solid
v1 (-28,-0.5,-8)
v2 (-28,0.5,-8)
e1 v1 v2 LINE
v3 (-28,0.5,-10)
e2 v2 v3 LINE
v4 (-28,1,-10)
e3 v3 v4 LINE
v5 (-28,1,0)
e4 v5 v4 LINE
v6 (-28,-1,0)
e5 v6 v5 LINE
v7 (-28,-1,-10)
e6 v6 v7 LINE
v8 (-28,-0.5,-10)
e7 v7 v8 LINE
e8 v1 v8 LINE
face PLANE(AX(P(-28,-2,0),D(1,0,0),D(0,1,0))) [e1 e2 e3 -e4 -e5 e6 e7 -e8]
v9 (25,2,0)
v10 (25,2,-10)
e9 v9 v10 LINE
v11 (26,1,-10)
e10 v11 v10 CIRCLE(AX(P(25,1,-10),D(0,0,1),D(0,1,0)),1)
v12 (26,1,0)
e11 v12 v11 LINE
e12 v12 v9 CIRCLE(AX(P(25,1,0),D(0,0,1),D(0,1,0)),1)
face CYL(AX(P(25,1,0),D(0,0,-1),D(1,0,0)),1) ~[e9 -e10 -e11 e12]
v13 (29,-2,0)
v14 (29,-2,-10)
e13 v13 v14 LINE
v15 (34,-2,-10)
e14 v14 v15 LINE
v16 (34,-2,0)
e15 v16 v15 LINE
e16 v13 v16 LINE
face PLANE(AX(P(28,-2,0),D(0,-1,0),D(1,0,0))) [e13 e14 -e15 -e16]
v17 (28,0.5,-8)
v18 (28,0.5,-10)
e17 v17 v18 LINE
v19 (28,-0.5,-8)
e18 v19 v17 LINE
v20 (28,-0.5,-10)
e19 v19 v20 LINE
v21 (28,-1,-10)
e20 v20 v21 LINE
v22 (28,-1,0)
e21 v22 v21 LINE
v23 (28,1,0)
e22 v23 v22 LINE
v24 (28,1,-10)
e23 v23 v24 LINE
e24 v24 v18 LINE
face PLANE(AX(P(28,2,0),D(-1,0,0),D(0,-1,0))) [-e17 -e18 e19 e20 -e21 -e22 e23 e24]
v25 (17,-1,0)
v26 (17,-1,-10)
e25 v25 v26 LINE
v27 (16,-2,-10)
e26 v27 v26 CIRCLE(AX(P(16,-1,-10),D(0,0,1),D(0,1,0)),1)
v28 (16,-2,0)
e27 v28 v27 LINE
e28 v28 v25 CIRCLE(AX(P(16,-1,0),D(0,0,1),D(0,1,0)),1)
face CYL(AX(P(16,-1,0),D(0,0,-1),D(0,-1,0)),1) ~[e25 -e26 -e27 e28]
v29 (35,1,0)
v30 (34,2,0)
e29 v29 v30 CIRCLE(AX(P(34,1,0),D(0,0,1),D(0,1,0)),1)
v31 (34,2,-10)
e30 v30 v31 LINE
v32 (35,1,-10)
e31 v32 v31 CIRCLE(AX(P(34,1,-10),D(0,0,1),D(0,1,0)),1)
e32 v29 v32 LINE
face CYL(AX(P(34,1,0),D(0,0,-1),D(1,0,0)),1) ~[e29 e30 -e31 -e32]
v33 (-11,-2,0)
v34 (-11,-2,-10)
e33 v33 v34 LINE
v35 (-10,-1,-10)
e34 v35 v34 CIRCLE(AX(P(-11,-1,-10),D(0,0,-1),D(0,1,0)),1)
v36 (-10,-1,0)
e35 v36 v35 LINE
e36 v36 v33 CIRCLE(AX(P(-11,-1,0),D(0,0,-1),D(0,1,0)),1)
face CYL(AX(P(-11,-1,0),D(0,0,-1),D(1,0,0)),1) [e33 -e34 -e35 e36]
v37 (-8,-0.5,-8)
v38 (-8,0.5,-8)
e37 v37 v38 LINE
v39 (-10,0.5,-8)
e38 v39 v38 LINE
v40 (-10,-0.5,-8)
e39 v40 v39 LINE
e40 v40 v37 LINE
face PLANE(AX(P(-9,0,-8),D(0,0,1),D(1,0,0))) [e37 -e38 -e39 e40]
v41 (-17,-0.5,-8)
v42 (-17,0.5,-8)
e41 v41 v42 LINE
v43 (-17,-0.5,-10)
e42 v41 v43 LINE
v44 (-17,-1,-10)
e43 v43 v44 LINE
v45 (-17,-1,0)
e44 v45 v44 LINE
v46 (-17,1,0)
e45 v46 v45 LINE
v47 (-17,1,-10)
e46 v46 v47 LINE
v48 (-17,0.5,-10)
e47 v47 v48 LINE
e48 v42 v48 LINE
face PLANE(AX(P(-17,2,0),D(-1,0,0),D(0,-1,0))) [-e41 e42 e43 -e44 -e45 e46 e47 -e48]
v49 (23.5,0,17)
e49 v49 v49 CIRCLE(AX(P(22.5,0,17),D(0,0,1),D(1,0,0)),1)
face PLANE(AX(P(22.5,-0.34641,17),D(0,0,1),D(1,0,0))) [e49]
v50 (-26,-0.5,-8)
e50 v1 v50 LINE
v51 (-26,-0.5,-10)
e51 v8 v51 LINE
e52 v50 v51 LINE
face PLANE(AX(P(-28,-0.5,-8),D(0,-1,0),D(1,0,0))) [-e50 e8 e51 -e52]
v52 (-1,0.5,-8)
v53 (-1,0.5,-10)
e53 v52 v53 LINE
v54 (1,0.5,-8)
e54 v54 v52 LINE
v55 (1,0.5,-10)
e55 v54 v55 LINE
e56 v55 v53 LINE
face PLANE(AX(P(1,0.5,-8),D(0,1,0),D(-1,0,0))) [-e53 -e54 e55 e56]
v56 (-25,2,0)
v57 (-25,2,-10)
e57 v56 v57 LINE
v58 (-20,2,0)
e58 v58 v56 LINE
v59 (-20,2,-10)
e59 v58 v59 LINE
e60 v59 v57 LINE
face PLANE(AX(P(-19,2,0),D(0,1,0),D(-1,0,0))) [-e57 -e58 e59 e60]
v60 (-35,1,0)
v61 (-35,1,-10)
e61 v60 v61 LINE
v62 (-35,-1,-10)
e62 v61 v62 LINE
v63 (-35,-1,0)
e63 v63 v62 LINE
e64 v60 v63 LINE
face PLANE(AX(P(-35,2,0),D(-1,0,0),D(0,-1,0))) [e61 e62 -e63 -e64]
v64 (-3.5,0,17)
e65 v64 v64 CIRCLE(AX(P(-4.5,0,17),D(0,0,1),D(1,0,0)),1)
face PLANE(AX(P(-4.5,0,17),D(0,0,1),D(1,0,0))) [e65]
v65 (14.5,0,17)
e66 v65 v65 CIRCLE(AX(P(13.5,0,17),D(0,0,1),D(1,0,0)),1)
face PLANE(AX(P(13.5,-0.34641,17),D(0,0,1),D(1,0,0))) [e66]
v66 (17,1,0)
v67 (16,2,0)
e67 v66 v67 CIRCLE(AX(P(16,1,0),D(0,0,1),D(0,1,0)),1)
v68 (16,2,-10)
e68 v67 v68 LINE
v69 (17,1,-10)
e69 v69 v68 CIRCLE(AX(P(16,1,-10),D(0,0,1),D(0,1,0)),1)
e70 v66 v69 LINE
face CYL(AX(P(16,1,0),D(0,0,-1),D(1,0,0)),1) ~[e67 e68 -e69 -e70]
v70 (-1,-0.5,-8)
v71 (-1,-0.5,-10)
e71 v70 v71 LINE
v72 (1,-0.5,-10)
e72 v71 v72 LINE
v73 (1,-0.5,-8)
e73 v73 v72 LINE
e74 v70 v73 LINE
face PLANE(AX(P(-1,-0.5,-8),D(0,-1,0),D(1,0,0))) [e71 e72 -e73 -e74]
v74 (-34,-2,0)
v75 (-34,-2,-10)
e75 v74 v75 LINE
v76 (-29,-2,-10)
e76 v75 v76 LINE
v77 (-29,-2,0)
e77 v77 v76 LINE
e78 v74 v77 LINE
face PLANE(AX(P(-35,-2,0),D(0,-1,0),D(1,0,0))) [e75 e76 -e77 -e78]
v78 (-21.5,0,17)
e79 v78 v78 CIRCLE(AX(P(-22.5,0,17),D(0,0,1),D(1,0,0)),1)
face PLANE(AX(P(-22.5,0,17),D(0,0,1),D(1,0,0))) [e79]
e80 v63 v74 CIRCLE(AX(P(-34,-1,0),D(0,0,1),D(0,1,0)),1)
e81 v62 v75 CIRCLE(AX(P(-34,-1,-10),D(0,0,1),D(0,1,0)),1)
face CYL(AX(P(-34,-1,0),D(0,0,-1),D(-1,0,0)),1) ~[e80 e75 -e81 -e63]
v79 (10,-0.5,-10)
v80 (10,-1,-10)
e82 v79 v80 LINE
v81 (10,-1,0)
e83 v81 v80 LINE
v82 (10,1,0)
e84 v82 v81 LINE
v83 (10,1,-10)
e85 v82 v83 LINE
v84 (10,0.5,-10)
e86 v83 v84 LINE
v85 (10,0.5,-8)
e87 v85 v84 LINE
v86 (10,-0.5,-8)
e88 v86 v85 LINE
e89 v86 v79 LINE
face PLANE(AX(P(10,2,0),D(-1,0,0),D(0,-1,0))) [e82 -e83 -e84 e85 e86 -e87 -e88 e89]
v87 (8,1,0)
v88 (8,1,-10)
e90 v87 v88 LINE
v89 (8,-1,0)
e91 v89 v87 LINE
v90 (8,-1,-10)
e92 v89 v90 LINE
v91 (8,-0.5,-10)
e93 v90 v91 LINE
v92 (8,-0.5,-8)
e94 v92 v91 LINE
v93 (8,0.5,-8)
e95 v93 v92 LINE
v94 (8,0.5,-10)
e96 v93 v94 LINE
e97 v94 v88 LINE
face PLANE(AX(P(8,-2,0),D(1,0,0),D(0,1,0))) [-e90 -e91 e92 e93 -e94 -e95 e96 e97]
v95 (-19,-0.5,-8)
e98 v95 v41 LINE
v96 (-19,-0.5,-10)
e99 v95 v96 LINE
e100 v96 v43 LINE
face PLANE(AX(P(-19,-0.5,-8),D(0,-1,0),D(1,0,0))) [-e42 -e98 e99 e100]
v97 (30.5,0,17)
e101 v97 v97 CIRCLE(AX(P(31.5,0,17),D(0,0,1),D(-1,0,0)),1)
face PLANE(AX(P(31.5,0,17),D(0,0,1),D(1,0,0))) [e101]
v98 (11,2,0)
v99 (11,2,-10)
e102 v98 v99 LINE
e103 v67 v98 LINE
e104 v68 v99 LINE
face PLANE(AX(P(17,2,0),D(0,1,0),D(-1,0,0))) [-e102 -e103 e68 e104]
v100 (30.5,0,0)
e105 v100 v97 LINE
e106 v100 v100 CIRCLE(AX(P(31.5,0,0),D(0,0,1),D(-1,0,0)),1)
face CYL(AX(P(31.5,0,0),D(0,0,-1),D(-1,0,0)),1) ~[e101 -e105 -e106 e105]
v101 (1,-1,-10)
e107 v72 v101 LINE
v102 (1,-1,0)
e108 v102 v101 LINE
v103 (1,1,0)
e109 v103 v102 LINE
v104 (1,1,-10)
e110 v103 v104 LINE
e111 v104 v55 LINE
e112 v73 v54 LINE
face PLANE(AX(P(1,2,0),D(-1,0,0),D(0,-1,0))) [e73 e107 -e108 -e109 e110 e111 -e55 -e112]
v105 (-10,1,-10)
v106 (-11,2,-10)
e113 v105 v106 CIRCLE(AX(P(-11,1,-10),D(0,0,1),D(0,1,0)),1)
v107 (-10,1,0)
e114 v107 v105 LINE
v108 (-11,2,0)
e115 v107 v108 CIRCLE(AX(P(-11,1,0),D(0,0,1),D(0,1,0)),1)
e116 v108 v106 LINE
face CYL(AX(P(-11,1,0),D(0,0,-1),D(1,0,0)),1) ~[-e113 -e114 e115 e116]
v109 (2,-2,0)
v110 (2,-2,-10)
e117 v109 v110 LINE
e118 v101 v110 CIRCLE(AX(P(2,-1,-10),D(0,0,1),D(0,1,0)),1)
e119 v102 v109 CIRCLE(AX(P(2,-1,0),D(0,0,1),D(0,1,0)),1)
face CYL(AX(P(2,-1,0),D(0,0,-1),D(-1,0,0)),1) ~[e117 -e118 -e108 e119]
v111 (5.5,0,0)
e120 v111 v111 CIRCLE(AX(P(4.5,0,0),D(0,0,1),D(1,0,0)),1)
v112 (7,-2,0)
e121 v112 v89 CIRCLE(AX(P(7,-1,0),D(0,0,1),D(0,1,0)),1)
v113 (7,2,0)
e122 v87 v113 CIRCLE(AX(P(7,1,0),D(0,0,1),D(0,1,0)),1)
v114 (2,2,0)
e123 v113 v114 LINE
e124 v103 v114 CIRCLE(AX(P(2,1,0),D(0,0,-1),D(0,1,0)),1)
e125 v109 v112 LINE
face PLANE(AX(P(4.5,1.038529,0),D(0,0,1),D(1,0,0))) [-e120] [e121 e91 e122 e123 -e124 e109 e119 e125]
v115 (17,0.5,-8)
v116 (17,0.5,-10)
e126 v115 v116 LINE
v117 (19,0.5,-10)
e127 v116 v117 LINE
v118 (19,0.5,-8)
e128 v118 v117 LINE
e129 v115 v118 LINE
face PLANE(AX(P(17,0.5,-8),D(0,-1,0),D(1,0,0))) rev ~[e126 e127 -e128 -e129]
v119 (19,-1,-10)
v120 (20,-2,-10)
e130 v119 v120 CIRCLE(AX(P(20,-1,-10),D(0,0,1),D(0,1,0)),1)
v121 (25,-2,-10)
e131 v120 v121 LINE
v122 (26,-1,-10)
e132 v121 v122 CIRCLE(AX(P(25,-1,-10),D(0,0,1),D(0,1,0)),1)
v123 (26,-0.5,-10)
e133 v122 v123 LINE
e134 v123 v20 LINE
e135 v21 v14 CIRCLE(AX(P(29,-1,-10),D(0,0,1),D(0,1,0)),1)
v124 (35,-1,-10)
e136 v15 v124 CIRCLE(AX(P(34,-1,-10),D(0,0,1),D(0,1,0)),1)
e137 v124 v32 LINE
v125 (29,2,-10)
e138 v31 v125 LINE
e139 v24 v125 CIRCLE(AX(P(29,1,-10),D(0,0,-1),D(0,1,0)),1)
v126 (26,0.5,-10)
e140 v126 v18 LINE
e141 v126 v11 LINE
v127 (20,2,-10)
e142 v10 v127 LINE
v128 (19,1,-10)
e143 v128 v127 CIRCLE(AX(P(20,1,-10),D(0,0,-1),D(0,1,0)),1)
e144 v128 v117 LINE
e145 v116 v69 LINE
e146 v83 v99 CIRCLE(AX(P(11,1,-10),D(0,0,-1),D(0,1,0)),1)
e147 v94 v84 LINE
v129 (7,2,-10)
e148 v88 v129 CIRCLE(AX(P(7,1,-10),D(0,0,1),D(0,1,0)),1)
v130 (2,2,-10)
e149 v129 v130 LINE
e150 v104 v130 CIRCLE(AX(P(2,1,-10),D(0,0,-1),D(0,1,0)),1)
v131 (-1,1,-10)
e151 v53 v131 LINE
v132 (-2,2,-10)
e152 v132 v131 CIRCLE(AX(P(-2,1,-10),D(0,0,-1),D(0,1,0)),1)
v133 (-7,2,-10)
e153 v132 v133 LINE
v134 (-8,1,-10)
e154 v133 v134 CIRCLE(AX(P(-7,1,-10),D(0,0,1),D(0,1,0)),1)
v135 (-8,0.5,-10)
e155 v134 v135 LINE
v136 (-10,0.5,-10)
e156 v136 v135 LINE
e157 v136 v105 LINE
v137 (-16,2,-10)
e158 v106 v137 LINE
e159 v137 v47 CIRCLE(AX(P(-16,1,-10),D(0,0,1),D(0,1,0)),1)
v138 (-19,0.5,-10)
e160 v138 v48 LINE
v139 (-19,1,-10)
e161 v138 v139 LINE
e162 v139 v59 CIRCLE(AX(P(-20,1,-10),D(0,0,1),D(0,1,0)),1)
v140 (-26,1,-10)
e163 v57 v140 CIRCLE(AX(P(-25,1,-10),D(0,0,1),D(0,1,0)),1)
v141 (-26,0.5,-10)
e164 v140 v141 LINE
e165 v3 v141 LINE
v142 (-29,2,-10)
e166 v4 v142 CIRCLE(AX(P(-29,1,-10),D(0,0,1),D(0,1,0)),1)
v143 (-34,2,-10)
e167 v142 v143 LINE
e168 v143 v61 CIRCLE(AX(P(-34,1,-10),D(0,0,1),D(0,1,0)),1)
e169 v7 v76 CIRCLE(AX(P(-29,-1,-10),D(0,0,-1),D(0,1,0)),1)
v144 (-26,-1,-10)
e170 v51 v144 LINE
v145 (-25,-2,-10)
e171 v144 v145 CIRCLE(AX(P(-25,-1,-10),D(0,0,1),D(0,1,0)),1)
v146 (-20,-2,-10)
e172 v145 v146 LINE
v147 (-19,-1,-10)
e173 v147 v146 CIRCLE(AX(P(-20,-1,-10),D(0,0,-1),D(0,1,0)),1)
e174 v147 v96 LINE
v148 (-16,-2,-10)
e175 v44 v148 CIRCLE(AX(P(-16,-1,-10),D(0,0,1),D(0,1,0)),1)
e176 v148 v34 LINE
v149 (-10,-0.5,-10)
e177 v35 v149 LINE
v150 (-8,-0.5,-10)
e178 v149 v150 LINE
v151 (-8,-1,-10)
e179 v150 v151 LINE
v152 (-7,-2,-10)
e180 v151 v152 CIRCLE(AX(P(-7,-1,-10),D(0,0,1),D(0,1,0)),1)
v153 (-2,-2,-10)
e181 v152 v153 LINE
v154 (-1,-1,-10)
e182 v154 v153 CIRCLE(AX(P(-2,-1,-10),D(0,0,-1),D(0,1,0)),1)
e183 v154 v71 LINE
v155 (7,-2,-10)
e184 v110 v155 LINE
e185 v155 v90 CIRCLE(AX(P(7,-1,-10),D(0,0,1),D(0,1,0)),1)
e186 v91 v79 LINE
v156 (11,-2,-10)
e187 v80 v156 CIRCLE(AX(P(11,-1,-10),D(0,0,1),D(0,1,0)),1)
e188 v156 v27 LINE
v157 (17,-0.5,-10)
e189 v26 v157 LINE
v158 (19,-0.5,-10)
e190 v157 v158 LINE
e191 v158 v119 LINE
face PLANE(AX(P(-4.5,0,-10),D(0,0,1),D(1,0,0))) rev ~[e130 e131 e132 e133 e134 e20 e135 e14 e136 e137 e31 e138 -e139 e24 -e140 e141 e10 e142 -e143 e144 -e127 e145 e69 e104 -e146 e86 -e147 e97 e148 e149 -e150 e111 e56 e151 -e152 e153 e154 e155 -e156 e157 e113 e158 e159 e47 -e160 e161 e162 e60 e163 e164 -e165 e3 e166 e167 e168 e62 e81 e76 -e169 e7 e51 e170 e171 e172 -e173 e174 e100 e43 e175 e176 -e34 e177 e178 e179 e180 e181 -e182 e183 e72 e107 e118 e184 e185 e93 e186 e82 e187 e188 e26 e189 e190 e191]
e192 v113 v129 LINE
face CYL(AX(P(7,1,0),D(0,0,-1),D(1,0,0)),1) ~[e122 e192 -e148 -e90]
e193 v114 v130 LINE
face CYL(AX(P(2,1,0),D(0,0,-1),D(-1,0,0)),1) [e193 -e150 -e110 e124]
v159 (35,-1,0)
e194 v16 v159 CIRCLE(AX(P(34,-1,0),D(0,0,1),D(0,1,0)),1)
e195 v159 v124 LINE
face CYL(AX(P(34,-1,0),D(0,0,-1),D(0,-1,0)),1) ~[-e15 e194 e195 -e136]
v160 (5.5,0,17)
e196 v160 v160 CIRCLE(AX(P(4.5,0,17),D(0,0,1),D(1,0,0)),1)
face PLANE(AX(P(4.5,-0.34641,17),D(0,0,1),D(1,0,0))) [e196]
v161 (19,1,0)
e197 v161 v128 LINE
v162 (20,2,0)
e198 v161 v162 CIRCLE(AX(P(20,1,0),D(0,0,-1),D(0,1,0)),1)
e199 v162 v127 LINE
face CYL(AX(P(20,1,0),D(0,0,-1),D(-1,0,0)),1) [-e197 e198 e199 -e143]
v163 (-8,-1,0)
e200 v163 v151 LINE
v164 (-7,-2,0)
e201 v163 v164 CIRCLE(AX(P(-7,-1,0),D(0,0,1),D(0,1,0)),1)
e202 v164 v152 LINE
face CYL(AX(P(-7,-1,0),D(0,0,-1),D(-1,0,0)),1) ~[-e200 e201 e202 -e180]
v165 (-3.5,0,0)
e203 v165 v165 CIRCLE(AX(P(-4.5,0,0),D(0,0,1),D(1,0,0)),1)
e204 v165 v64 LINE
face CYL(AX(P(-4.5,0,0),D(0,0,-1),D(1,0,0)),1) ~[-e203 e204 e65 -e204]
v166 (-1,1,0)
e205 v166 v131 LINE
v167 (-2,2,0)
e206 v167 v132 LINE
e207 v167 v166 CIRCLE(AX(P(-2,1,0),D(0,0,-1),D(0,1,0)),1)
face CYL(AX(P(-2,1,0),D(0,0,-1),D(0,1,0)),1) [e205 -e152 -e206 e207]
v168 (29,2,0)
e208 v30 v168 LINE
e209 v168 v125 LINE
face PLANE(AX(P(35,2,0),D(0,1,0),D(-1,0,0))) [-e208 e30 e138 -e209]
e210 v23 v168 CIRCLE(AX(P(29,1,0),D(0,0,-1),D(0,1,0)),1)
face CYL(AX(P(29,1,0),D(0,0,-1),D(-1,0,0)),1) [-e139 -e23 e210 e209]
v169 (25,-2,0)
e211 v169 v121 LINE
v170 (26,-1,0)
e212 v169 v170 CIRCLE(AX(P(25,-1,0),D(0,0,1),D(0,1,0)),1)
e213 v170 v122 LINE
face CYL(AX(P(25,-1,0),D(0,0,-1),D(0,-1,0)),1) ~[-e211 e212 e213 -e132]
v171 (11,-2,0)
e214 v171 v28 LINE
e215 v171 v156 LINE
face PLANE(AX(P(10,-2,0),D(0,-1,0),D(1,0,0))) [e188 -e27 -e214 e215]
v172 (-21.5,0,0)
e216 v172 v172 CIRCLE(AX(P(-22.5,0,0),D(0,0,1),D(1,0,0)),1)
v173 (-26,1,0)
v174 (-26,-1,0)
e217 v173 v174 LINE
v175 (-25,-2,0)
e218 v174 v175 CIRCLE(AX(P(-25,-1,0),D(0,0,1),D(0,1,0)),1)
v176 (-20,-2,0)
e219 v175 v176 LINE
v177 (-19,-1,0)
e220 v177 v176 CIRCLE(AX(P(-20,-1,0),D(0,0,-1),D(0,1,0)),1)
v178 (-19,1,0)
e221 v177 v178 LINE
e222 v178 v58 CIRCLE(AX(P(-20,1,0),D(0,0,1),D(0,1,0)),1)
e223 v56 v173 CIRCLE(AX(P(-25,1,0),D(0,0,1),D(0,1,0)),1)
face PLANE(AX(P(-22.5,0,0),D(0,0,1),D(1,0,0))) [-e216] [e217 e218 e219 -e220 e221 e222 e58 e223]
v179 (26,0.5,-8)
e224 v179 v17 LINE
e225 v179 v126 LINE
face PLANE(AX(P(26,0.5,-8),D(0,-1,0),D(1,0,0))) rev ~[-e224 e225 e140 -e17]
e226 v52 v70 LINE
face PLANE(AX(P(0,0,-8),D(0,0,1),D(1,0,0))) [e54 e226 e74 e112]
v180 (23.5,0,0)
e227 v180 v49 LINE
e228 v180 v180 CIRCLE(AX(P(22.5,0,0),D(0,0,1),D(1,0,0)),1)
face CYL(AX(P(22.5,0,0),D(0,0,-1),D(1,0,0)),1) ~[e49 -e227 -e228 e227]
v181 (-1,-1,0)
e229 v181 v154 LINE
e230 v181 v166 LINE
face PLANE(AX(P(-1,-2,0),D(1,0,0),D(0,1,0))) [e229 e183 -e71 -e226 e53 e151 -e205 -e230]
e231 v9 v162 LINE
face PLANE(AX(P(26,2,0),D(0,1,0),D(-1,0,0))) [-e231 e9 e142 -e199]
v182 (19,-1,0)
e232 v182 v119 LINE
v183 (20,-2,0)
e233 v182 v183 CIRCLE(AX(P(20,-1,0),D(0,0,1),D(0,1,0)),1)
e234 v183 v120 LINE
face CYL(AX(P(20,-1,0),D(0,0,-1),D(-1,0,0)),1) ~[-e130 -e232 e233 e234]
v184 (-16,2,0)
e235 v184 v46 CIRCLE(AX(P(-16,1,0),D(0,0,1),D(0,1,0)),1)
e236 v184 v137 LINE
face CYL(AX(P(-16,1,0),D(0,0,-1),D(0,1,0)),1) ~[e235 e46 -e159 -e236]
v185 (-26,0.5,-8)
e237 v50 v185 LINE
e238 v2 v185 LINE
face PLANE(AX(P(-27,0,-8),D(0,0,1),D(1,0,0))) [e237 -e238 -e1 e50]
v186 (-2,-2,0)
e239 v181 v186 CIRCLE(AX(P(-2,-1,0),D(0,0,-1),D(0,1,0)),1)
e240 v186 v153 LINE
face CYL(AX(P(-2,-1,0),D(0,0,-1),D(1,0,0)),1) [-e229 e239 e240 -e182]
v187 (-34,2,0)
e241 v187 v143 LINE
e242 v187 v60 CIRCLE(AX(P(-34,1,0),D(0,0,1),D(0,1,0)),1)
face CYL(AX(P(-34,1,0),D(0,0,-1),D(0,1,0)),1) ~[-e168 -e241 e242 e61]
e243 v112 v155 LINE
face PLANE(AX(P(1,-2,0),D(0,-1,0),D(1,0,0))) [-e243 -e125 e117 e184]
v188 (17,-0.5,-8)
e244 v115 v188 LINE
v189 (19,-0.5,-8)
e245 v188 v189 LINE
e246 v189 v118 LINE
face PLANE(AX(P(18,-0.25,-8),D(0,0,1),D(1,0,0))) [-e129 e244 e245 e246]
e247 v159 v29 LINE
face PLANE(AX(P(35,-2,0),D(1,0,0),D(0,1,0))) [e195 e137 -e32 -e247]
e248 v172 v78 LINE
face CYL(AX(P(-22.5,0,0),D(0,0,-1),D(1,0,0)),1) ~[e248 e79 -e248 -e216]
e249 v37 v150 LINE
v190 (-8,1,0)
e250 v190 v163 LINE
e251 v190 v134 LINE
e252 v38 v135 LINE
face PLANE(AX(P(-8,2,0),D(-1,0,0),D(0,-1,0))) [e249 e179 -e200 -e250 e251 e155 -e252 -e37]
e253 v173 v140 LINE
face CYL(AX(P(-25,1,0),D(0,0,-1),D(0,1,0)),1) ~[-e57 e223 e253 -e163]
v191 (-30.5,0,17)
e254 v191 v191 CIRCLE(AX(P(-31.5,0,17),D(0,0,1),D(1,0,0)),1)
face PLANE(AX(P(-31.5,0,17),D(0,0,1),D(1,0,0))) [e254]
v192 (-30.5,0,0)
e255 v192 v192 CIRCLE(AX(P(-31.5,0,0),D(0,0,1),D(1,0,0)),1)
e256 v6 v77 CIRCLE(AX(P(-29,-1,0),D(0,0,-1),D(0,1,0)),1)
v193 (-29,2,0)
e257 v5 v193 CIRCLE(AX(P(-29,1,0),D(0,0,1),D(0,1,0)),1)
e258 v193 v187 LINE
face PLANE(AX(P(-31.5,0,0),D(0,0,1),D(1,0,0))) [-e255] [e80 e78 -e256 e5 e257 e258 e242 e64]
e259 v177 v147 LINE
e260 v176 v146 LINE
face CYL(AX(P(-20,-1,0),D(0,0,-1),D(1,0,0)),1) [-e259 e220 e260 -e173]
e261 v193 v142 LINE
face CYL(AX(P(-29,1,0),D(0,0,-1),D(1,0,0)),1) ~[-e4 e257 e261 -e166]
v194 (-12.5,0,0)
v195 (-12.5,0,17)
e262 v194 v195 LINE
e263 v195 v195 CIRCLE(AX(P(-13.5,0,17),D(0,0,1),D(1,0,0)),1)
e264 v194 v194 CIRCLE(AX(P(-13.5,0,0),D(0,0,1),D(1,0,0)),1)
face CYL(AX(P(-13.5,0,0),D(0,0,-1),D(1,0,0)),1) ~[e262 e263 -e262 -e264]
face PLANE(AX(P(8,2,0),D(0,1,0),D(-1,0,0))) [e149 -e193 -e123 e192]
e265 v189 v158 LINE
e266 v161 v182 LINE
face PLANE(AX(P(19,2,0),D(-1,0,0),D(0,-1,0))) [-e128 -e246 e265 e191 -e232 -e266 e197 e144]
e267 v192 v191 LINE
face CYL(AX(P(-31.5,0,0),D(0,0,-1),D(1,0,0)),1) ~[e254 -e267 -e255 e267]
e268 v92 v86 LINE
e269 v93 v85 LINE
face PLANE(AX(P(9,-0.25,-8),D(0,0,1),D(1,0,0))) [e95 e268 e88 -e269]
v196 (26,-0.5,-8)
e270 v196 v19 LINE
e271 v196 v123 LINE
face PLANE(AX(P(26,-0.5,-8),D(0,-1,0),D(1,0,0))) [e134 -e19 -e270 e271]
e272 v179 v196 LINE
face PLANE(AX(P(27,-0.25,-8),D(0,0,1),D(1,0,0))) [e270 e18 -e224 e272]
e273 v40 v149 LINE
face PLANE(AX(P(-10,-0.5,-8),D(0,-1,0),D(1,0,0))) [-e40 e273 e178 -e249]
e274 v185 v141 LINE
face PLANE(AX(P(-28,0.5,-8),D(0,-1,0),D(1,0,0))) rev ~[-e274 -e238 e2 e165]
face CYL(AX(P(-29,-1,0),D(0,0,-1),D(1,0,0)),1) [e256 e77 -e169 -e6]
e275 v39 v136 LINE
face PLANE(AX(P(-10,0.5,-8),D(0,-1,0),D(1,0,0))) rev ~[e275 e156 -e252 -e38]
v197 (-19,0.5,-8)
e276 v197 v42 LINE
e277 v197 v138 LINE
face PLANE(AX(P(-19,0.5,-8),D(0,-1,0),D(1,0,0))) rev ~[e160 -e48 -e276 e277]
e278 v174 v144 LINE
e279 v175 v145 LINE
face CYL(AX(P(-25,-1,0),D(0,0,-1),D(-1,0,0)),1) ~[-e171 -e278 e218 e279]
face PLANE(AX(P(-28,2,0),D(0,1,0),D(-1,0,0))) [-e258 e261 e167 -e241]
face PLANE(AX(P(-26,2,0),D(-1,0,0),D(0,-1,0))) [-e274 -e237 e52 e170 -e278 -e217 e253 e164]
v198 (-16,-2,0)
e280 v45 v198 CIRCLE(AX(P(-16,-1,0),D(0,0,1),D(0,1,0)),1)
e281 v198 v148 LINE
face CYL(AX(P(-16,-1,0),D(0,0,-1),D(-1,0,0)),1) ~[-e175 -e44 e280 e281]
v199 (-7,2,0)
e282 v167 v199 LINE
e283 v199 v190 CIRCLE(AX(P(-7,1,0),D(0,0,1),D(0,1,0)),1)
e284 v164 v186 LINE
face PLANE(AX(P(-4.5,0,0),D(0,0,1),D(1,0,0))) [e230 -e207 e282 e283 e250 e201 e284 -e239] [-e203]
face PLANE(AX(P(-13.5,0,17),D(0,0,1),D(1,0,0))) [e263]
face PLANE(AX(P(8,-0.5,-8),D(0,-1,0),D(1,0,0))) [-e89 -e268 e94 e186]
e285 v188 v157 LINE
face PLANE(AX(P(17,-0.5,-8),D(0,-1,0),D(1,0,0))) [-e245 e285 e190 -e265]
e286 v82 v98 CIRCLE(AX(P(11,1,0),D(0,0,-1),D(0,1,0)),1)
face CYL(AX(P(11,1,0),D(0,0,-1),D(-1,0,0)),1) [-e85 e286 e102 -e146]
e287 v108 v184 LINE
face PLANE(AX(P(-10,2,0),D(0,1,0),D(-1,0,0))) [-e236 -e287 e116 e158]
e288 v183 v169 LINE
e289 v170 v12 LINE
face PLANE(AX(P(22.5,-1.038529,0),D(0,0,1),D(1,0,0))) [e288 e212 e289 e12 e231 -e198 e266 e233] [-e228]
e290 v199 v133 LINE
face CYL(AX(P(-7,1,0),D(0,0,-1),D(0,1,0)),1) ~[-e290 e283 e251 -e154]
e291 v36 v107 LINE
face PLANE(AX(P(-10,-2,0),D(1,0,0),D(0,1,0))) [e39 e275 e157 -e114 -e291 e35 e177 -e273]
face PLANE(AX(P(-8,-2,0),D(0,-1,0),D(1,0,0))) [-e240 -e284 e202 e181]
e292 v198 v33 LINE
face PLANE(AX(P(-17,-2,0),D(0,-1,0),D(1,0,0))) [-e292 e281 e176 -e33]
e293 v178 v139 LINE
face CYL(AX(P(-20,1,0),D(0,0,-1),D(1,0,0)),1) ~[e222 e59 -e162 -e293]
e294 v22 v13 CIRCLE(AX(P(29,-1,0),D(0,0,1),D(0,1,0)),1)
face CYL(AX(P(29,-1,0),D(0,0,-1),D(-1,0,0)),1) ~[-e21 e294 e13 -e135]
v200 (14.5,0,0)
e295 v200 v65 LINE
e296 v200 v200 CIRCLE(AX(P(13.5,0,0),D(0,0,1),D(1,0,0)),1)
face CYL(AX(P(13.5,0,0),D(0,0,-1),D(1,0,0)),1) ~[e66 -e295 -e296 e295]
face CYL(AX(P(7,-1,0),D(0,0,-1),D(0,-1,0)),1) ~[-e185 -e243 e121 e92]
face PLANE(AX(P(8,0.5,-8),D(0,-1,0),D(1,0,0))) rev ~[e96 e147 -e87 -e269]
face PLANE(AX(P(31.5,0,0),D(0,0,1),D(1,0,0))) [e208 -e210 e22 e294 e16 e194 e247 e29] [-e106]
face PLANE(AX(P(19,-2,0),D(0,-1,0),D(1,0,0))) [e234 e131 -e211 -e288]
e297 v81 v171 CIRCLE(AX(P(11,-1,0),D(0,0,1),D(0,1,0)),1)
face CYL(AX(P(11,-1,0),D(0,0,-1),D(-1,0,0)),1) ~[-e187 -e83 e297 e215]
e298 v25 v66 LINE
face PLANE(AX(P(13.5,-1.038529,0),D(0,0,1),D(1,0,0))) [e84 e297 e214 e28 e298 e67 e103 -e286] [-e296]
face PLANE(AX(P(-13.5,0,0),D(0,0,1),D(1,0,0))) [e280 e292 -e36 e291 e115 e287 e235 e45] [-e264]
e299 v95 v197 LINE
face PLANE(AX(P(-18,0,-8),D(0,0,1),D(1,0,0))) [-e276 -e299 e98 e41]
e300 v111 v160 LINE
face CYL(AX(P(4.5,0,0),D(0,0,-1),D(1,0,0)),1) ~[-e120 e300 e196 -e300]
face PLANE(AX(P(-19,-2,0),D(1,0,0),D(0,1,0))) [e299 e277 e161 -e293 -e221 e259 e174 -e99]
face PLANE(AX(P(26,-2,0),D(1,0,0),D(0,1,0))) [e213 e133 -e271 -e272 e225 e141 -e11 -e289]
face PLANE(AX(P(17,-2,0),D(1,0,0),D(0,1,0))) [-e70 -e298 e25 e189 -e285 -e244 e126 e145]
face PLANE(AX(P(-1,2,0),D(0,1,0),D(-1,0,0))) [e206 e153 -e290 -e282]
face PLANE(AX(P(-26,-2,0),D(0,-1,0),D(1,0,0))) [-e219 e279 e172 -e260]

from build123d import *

# Parameters (mm, degrees)
F1_DEPTH = 10
F0_R     = 1
F2_START = -8
F0_W     = 2
F0_H     = 0.5
F0_H_2   = 1
F2_DEPTH = 2
F3_DEPTH = 17
F4_R     = 1


with BuildPart() as f1:
    # F0 (on Top) → F1 (new body)
    with BuildSketch(Plane.XY):
        Polygon((35, -2), (35, 2), (28, 2), (28, 0.5), (28, 0), (28, -0.5), (28, -2), align=None)
        with BuildLine():
            ThreePointArc((32.5, 0), (31.5, -1), (30.5, 0))
            ThreePointArc((30.5, 0), (31.5, 1), (32.5, 0))
        make_face(mode=Mode.SUBTRACT)
        with BuildLine():
            ThreePointArc((32.5, 0), (31.5, 1), (30.5, 0))
            ThreePointArc((30.5, 0), (31.5, -1), (32.5, 0))
        make_face()
    extrude(amount=-F1_DEPTH)



with BuildPart() as f1b:
    # F0 (on Top) → F1, piece 2 (new body)
    with BuildSketch(Plane.XY):
        Polygon((-28, 0.5), (-28, 2), (-35, 2), (-35, -2), (-28, -2), (-28, -0.5), align=None)
        with Locations((-31.5, 0)):
            Circle(F0_R, mode=Mode.SUBTRACT)
        with Locations((-31.5, 0)):
            Circle(F0_R)
    extrude(amount=-F1_DEPTH)


with BuildPart() as f1c:
    # F0 (on Top) → F1, piece 3 (new body)
    with BuildSketch(Plane.XY):
        with BuildLine():
            Line((19, -2), (26, -2))
            Line((26, -2), (26, -0.5))
            Line((26, -0.5), (26, 0))
            Line((26, 0), (23.5, 0))
            ThreePointArc((23.5, 0), (22.5, -1), (21.5, 0))
            Line((21.5, 0), (19, 0))
            Line((19, 0), (19, -0.5))
            Line((19, -0.5), (19, -2))
        make_face()
        with BuildLine():
            Line((26, 0.5), (26, 2))
            Line((26, 2), (19, 2))
            Line((19, 2), (19, 0.5))
            Line((19, 0.5), (19, 0))
            Line((19, 0), (21.5, 0))
            ThreePointArc((21.5, 0), (22.5, 1), (23.5, 0))
            Line((23.5, 0), (26, 0))
            Line((26, 0), (26, 0.5))
        make_face()
        with BuildLine():
            Line((22.5, 0), (23.5, 0))
            ThreePointArc((23.5, 0), (22.5, 1), (21.5, 0))
            Line((21.5, 0), (22.5, 0))
        make_face()
        with BuildLine():
            ThreePointArc((21.5, 0), (22.5, -1), (23.5, 0))
            Line((23.5, 0), (22.5, 0))
            Line((22.5, 0), (21.5, 0))
        make_face()
    extrude(amount=-F1_DEPTH)


with BuildPart() as f1d:
    # F0 (on Top) → F1, piece 4 (new body)
    with BuildSketch(Plane.XY):
        with BuildLine():
            Line((10, -2), (17, -2))
            Line((17, -2), (17, -0.5))
            Line((17, -0.5), (17, 0))
            Line((17, 0), (14.5, 0))
            ThreePointArc((14.5, 0), (13.5, -1), (12.5, 0))
            Line((12.5, 0), (10, 0))
            Line((10, 0), (10, -0.5))
            Line((10, -0.5), (10, -2))
        make_face()
        with BuildLine():
            Line((17, 0.5), (17, 2))
            Line((17, 2), (10, 2))
            Line((10, 2), (10, 0.5))
            Line((10, 0.5), (10, 0))
            Line((10, 0), (12.5, 0))
            ThreePointArc((12.5, 0), (13.5, 1), (14.5, 0))
            Line((14.5, 0), (17, 0))
            Line((17, 0), (17, 0.5))
        make_face()
        with BuildLine():
            Line((13.5, 0), (14.5, 0))
            ThreePointArc((14.5, 0), (13.5, 1), (12.5, 0))
            Line((12.5, 0), (13.5, 0))
        make_face()
        with BuildLine():
            ThreePointArc((12.5, 0), (13.5, -1), (14.5, 0))
            Line((14.5, 0), (13.5, 0))
            Line((13.5, 0), (12.5, 0))
        make_face()
    extrude(amount=-F1_DEPTH)


with BuildPart() as f1e:
    # F0 (on Top) → F1, piece 5 (new body)
    with BuildSketch(Plane.XY):
        Polygon((-19, 0.5), (-19, 2), (-26, 2), (-26, 0.5), (-26, -0.5), (-26, -2), (-19, -2), (-19, -0.5), align=None)
        with Locations((-22.5, 0)):
            Circle(F0_R, mode=Mode.SUBTRACT)
        with Locations((-22.5, 0)):
            Circle(F0_R)
    extrude(amount=-F1_DEPTH)


with BuildPart() as f1f:
    # F0 (on Top) → F1, piece 6 (new body)
    with BuildSketch(Plane.XY):
        Polygon((-10, 0.5), (-10, 2), (-17, 2), (-17, 0.5), (-17, -0.5), (-17, -2), (-10, -2), (-10, -0.5), align=None)
        with Locations((-13.5, 0)):
            Circle(F0_R, mode=Mode.SUBTRACT)
        with Locations((-13.5, 0)):
            Circle(F0_R)
    extrude(amount=-F1_DEPTH)


with BuildPart() as f1g:
    # F0 (on Top) → F1, piece 7 (new body)
    with BuildSketch(Plane.XY):
        with BuildLine():
            Line((8, 0.5), (8, 2))
            Line((8, 2), (1, 2))
            Line((1, 2), (1, 0.5))
            Line((1, 0.5), (1, 0))
            Line((1, 0), (3.5, 0))
            ThreePointArc((3.5, 0), (4.5, 1), (5.5, 0))
            Line((5.5, 0), (8, 0))
            Line((8, 0), (8, 0.5))
        make_face()
        with BuildLine():
            Line((1, -2), (8, -2))
            Line((8, -2), (8, -0.5))
            Line((8, -0.5), (8, 0))
            Line((8, 0), (5.5, 0))
            ThreePointArc((5.5, 0), (4.5, -1), (3.5, 0))
            Line((3.5, 0), (1, 0))
            Line((1, 0), (1, -0.5))
            Line((1, -0.5), (1, -2))
        make_face()
        with BuildLine():
            Line((4.5, 0), (5.5, 0))
            ThreePointArc((5.5, 0), (4.5, 1), (3.5, 0))
            Line((3.5, 0), (4.5, 0))
        make_face()
        with BuildLine():
            ThreePointArc((3.5, 0), (4.5, -1), (5.5, 0))
            Line((5.5, 0), (4.5, 0))
            Line((4.5, 0), (3.5, 0))
        make_face()
    extrude(amount=-F1_DEPTH)


with BuildPart() as f1h:
    # F0 (on Top) → F1, piece 8 (new body)
    with BuildSketch(Plane.XY):
        Polygon((-1, 0.5), (-1, 2), (-8, 2), (-8, 0.5), (-8, -0.5), (-8, -2), (-1, -2), (-1, -0.5), align=None)
        with Locations((-4.5, 0)):
            Circle(F0_R, mode=Mode.SUBTRACT)
        with Locations((-4.5, 0)):
            Circle(F0_R)
    extrude(amount=-F1_DEPTH)


with BuildPart() as f1_1:
    add(f1.part)

    add(f1b.part)  # F2 merges F1b

    add(f1c.part)  # F2 merges F1c

    add(f1d.part)  # F2 merges F1d

    add(f1e.part)  # F2 merges F1e

    add(f1f.part)  # F2 merges F1f

    add(f1g.part)  # F2 merges F1g

    add(f1h.part)  # F2 merges F1h
    # F0 (on Top) → F2 (join)
    with BuildSketch(Plane.XY.offset(F2_START)):
        with Locations((9, -0.25)):
            Rectangle(F0_W, F0_H)
        with Locations((9, 0.25)):
            Rectangle(F0_W, F0_H)
        with Locations((18, -0.25)):
            Rectangle(F0_W, F0_H)
        with Locations((18, 0.25)):
            Rectangle(F0_W, F0_H)
        with Locations((27, -0.25)):
            Rectangle(F0_W, F0_H)
        with Locations((27, 0.25)):
            Rectangle(F0_W, F0_H)
        Polygon((1, 0), (1, 0.5), (-1, 0.5), (-1, -0.5), (1, -0.5), align=None)
        with Locations((-9, 0)):
            Rectangle(F0_W, F0_H_2)
        with Locations((-18, 0)):
            Rectangle(F0_W, F0_H_2)
        with Locations((-27, 0)):
            Rectangle(F0_W, F0_H_2)
    extrude(amount=-F2_DEPTH)

    # F0 (on Top) → F3 (join)
    with BuildSketch(Plane.XY):
        with BuildLine():
            ThreePointArc((3.5, 0), (4.5, -1), (5.5, 0))
            Line((5.5, 0), (4.5, 0))
            Line((4.5, 0), (3.5, 0))
        make_face()
        with BuildLine():
            ThreePointArc((12.5, 0), (13.5, -1), (14.5, 0))
            Line((14.5, 0), (13.5, 0))
            Line((13.5, 0), (12.5, 0))
        make_face()
        with BuildLine():
            ThreePointArc((21.5, 0), (22.5, -1), (23.5, 0))
            Line((23.5, 0), (22.5, 0))
            Line((22.5, 0), (21.5, 0))
        make_face()
        with BuildLine():
            ThreePointArc((32.5, 0), (31.5, 1), (30.5, 0))
            ThreePointArc((30.5, 0), (31.5, -1), (32.5, 0))
        make_face()
        with BuildLine():
            Line((22.5, 0), (23.5, 0))
            ThreePointArc((23.5, 0), (22.5, 1), (21.5, 0))
            Line((21.5, 0), (22.5, 0))
        make_face()
        with BuildLine():
            Line((13.5, 0), (14.5, 0))
            ThreePointArc((14.5, 0), (13.5, 1), (12.5, 0))
            Line((12.5, 0), (13.5, 0))
        make_face()
        with BuildLine():
            Line((4.5, 0), (5.5, 0))
            ThreePointArc((5.5, 0), (4.5, 1), (3.5, 0))
            Line((3.5, 0), (4.5, 0))
        make_face()
        with Locations((-4.5, 0)):
            Circle(F0_R)
        with Locations((-13.5, 0)):
            Circle(F0_R)
        with Locations((-22.5, 0)):
            Circle(F0_R)
        with Locations((-31.5, 0)):
            Circle(F0_R)
    extrude(amount=F3_DEPTH)

    # F4
    f4_edges = [f1_1.edges().sort_by_distance(p)[0] for p in [
        (35, 2, -5),
        (28, 2, -5),
        (35, -2, -5),
        (26, 2, -5),
        (19, 2, -5),
        (17, 2, -5),
        (10, 2, -5),
        (8, 2, -5),
        (1, 2, -5),
        (-1, 2, -5),
        (-8, 2, -5),
        (-10, 2, -5),
        (-17, 2, -5),
        (-19, 2, -5),
        (-26, 2, -5),
        (-28, 2, -5),
        (-35, 2, -5),
        (28, -2, -5),
        (26, -2, -5),
        (19, -2, -5),
        (17, -2, -5),
        (10, -2, -5),
        (8, -2, -5),
        (1, -2, -5),
        (-1, -2, -5),
        (-8, -2, -5),
        (-10, -2, -5),
        (-17, -2, -5),
        (-19, -2, -5),
        (-26, -2, -5),
        (-28, -2, -5),
        (-35, -2, -5),
    ]]
    fillet(f4_edges, radius=F4_R)


solid = f1_1.part
